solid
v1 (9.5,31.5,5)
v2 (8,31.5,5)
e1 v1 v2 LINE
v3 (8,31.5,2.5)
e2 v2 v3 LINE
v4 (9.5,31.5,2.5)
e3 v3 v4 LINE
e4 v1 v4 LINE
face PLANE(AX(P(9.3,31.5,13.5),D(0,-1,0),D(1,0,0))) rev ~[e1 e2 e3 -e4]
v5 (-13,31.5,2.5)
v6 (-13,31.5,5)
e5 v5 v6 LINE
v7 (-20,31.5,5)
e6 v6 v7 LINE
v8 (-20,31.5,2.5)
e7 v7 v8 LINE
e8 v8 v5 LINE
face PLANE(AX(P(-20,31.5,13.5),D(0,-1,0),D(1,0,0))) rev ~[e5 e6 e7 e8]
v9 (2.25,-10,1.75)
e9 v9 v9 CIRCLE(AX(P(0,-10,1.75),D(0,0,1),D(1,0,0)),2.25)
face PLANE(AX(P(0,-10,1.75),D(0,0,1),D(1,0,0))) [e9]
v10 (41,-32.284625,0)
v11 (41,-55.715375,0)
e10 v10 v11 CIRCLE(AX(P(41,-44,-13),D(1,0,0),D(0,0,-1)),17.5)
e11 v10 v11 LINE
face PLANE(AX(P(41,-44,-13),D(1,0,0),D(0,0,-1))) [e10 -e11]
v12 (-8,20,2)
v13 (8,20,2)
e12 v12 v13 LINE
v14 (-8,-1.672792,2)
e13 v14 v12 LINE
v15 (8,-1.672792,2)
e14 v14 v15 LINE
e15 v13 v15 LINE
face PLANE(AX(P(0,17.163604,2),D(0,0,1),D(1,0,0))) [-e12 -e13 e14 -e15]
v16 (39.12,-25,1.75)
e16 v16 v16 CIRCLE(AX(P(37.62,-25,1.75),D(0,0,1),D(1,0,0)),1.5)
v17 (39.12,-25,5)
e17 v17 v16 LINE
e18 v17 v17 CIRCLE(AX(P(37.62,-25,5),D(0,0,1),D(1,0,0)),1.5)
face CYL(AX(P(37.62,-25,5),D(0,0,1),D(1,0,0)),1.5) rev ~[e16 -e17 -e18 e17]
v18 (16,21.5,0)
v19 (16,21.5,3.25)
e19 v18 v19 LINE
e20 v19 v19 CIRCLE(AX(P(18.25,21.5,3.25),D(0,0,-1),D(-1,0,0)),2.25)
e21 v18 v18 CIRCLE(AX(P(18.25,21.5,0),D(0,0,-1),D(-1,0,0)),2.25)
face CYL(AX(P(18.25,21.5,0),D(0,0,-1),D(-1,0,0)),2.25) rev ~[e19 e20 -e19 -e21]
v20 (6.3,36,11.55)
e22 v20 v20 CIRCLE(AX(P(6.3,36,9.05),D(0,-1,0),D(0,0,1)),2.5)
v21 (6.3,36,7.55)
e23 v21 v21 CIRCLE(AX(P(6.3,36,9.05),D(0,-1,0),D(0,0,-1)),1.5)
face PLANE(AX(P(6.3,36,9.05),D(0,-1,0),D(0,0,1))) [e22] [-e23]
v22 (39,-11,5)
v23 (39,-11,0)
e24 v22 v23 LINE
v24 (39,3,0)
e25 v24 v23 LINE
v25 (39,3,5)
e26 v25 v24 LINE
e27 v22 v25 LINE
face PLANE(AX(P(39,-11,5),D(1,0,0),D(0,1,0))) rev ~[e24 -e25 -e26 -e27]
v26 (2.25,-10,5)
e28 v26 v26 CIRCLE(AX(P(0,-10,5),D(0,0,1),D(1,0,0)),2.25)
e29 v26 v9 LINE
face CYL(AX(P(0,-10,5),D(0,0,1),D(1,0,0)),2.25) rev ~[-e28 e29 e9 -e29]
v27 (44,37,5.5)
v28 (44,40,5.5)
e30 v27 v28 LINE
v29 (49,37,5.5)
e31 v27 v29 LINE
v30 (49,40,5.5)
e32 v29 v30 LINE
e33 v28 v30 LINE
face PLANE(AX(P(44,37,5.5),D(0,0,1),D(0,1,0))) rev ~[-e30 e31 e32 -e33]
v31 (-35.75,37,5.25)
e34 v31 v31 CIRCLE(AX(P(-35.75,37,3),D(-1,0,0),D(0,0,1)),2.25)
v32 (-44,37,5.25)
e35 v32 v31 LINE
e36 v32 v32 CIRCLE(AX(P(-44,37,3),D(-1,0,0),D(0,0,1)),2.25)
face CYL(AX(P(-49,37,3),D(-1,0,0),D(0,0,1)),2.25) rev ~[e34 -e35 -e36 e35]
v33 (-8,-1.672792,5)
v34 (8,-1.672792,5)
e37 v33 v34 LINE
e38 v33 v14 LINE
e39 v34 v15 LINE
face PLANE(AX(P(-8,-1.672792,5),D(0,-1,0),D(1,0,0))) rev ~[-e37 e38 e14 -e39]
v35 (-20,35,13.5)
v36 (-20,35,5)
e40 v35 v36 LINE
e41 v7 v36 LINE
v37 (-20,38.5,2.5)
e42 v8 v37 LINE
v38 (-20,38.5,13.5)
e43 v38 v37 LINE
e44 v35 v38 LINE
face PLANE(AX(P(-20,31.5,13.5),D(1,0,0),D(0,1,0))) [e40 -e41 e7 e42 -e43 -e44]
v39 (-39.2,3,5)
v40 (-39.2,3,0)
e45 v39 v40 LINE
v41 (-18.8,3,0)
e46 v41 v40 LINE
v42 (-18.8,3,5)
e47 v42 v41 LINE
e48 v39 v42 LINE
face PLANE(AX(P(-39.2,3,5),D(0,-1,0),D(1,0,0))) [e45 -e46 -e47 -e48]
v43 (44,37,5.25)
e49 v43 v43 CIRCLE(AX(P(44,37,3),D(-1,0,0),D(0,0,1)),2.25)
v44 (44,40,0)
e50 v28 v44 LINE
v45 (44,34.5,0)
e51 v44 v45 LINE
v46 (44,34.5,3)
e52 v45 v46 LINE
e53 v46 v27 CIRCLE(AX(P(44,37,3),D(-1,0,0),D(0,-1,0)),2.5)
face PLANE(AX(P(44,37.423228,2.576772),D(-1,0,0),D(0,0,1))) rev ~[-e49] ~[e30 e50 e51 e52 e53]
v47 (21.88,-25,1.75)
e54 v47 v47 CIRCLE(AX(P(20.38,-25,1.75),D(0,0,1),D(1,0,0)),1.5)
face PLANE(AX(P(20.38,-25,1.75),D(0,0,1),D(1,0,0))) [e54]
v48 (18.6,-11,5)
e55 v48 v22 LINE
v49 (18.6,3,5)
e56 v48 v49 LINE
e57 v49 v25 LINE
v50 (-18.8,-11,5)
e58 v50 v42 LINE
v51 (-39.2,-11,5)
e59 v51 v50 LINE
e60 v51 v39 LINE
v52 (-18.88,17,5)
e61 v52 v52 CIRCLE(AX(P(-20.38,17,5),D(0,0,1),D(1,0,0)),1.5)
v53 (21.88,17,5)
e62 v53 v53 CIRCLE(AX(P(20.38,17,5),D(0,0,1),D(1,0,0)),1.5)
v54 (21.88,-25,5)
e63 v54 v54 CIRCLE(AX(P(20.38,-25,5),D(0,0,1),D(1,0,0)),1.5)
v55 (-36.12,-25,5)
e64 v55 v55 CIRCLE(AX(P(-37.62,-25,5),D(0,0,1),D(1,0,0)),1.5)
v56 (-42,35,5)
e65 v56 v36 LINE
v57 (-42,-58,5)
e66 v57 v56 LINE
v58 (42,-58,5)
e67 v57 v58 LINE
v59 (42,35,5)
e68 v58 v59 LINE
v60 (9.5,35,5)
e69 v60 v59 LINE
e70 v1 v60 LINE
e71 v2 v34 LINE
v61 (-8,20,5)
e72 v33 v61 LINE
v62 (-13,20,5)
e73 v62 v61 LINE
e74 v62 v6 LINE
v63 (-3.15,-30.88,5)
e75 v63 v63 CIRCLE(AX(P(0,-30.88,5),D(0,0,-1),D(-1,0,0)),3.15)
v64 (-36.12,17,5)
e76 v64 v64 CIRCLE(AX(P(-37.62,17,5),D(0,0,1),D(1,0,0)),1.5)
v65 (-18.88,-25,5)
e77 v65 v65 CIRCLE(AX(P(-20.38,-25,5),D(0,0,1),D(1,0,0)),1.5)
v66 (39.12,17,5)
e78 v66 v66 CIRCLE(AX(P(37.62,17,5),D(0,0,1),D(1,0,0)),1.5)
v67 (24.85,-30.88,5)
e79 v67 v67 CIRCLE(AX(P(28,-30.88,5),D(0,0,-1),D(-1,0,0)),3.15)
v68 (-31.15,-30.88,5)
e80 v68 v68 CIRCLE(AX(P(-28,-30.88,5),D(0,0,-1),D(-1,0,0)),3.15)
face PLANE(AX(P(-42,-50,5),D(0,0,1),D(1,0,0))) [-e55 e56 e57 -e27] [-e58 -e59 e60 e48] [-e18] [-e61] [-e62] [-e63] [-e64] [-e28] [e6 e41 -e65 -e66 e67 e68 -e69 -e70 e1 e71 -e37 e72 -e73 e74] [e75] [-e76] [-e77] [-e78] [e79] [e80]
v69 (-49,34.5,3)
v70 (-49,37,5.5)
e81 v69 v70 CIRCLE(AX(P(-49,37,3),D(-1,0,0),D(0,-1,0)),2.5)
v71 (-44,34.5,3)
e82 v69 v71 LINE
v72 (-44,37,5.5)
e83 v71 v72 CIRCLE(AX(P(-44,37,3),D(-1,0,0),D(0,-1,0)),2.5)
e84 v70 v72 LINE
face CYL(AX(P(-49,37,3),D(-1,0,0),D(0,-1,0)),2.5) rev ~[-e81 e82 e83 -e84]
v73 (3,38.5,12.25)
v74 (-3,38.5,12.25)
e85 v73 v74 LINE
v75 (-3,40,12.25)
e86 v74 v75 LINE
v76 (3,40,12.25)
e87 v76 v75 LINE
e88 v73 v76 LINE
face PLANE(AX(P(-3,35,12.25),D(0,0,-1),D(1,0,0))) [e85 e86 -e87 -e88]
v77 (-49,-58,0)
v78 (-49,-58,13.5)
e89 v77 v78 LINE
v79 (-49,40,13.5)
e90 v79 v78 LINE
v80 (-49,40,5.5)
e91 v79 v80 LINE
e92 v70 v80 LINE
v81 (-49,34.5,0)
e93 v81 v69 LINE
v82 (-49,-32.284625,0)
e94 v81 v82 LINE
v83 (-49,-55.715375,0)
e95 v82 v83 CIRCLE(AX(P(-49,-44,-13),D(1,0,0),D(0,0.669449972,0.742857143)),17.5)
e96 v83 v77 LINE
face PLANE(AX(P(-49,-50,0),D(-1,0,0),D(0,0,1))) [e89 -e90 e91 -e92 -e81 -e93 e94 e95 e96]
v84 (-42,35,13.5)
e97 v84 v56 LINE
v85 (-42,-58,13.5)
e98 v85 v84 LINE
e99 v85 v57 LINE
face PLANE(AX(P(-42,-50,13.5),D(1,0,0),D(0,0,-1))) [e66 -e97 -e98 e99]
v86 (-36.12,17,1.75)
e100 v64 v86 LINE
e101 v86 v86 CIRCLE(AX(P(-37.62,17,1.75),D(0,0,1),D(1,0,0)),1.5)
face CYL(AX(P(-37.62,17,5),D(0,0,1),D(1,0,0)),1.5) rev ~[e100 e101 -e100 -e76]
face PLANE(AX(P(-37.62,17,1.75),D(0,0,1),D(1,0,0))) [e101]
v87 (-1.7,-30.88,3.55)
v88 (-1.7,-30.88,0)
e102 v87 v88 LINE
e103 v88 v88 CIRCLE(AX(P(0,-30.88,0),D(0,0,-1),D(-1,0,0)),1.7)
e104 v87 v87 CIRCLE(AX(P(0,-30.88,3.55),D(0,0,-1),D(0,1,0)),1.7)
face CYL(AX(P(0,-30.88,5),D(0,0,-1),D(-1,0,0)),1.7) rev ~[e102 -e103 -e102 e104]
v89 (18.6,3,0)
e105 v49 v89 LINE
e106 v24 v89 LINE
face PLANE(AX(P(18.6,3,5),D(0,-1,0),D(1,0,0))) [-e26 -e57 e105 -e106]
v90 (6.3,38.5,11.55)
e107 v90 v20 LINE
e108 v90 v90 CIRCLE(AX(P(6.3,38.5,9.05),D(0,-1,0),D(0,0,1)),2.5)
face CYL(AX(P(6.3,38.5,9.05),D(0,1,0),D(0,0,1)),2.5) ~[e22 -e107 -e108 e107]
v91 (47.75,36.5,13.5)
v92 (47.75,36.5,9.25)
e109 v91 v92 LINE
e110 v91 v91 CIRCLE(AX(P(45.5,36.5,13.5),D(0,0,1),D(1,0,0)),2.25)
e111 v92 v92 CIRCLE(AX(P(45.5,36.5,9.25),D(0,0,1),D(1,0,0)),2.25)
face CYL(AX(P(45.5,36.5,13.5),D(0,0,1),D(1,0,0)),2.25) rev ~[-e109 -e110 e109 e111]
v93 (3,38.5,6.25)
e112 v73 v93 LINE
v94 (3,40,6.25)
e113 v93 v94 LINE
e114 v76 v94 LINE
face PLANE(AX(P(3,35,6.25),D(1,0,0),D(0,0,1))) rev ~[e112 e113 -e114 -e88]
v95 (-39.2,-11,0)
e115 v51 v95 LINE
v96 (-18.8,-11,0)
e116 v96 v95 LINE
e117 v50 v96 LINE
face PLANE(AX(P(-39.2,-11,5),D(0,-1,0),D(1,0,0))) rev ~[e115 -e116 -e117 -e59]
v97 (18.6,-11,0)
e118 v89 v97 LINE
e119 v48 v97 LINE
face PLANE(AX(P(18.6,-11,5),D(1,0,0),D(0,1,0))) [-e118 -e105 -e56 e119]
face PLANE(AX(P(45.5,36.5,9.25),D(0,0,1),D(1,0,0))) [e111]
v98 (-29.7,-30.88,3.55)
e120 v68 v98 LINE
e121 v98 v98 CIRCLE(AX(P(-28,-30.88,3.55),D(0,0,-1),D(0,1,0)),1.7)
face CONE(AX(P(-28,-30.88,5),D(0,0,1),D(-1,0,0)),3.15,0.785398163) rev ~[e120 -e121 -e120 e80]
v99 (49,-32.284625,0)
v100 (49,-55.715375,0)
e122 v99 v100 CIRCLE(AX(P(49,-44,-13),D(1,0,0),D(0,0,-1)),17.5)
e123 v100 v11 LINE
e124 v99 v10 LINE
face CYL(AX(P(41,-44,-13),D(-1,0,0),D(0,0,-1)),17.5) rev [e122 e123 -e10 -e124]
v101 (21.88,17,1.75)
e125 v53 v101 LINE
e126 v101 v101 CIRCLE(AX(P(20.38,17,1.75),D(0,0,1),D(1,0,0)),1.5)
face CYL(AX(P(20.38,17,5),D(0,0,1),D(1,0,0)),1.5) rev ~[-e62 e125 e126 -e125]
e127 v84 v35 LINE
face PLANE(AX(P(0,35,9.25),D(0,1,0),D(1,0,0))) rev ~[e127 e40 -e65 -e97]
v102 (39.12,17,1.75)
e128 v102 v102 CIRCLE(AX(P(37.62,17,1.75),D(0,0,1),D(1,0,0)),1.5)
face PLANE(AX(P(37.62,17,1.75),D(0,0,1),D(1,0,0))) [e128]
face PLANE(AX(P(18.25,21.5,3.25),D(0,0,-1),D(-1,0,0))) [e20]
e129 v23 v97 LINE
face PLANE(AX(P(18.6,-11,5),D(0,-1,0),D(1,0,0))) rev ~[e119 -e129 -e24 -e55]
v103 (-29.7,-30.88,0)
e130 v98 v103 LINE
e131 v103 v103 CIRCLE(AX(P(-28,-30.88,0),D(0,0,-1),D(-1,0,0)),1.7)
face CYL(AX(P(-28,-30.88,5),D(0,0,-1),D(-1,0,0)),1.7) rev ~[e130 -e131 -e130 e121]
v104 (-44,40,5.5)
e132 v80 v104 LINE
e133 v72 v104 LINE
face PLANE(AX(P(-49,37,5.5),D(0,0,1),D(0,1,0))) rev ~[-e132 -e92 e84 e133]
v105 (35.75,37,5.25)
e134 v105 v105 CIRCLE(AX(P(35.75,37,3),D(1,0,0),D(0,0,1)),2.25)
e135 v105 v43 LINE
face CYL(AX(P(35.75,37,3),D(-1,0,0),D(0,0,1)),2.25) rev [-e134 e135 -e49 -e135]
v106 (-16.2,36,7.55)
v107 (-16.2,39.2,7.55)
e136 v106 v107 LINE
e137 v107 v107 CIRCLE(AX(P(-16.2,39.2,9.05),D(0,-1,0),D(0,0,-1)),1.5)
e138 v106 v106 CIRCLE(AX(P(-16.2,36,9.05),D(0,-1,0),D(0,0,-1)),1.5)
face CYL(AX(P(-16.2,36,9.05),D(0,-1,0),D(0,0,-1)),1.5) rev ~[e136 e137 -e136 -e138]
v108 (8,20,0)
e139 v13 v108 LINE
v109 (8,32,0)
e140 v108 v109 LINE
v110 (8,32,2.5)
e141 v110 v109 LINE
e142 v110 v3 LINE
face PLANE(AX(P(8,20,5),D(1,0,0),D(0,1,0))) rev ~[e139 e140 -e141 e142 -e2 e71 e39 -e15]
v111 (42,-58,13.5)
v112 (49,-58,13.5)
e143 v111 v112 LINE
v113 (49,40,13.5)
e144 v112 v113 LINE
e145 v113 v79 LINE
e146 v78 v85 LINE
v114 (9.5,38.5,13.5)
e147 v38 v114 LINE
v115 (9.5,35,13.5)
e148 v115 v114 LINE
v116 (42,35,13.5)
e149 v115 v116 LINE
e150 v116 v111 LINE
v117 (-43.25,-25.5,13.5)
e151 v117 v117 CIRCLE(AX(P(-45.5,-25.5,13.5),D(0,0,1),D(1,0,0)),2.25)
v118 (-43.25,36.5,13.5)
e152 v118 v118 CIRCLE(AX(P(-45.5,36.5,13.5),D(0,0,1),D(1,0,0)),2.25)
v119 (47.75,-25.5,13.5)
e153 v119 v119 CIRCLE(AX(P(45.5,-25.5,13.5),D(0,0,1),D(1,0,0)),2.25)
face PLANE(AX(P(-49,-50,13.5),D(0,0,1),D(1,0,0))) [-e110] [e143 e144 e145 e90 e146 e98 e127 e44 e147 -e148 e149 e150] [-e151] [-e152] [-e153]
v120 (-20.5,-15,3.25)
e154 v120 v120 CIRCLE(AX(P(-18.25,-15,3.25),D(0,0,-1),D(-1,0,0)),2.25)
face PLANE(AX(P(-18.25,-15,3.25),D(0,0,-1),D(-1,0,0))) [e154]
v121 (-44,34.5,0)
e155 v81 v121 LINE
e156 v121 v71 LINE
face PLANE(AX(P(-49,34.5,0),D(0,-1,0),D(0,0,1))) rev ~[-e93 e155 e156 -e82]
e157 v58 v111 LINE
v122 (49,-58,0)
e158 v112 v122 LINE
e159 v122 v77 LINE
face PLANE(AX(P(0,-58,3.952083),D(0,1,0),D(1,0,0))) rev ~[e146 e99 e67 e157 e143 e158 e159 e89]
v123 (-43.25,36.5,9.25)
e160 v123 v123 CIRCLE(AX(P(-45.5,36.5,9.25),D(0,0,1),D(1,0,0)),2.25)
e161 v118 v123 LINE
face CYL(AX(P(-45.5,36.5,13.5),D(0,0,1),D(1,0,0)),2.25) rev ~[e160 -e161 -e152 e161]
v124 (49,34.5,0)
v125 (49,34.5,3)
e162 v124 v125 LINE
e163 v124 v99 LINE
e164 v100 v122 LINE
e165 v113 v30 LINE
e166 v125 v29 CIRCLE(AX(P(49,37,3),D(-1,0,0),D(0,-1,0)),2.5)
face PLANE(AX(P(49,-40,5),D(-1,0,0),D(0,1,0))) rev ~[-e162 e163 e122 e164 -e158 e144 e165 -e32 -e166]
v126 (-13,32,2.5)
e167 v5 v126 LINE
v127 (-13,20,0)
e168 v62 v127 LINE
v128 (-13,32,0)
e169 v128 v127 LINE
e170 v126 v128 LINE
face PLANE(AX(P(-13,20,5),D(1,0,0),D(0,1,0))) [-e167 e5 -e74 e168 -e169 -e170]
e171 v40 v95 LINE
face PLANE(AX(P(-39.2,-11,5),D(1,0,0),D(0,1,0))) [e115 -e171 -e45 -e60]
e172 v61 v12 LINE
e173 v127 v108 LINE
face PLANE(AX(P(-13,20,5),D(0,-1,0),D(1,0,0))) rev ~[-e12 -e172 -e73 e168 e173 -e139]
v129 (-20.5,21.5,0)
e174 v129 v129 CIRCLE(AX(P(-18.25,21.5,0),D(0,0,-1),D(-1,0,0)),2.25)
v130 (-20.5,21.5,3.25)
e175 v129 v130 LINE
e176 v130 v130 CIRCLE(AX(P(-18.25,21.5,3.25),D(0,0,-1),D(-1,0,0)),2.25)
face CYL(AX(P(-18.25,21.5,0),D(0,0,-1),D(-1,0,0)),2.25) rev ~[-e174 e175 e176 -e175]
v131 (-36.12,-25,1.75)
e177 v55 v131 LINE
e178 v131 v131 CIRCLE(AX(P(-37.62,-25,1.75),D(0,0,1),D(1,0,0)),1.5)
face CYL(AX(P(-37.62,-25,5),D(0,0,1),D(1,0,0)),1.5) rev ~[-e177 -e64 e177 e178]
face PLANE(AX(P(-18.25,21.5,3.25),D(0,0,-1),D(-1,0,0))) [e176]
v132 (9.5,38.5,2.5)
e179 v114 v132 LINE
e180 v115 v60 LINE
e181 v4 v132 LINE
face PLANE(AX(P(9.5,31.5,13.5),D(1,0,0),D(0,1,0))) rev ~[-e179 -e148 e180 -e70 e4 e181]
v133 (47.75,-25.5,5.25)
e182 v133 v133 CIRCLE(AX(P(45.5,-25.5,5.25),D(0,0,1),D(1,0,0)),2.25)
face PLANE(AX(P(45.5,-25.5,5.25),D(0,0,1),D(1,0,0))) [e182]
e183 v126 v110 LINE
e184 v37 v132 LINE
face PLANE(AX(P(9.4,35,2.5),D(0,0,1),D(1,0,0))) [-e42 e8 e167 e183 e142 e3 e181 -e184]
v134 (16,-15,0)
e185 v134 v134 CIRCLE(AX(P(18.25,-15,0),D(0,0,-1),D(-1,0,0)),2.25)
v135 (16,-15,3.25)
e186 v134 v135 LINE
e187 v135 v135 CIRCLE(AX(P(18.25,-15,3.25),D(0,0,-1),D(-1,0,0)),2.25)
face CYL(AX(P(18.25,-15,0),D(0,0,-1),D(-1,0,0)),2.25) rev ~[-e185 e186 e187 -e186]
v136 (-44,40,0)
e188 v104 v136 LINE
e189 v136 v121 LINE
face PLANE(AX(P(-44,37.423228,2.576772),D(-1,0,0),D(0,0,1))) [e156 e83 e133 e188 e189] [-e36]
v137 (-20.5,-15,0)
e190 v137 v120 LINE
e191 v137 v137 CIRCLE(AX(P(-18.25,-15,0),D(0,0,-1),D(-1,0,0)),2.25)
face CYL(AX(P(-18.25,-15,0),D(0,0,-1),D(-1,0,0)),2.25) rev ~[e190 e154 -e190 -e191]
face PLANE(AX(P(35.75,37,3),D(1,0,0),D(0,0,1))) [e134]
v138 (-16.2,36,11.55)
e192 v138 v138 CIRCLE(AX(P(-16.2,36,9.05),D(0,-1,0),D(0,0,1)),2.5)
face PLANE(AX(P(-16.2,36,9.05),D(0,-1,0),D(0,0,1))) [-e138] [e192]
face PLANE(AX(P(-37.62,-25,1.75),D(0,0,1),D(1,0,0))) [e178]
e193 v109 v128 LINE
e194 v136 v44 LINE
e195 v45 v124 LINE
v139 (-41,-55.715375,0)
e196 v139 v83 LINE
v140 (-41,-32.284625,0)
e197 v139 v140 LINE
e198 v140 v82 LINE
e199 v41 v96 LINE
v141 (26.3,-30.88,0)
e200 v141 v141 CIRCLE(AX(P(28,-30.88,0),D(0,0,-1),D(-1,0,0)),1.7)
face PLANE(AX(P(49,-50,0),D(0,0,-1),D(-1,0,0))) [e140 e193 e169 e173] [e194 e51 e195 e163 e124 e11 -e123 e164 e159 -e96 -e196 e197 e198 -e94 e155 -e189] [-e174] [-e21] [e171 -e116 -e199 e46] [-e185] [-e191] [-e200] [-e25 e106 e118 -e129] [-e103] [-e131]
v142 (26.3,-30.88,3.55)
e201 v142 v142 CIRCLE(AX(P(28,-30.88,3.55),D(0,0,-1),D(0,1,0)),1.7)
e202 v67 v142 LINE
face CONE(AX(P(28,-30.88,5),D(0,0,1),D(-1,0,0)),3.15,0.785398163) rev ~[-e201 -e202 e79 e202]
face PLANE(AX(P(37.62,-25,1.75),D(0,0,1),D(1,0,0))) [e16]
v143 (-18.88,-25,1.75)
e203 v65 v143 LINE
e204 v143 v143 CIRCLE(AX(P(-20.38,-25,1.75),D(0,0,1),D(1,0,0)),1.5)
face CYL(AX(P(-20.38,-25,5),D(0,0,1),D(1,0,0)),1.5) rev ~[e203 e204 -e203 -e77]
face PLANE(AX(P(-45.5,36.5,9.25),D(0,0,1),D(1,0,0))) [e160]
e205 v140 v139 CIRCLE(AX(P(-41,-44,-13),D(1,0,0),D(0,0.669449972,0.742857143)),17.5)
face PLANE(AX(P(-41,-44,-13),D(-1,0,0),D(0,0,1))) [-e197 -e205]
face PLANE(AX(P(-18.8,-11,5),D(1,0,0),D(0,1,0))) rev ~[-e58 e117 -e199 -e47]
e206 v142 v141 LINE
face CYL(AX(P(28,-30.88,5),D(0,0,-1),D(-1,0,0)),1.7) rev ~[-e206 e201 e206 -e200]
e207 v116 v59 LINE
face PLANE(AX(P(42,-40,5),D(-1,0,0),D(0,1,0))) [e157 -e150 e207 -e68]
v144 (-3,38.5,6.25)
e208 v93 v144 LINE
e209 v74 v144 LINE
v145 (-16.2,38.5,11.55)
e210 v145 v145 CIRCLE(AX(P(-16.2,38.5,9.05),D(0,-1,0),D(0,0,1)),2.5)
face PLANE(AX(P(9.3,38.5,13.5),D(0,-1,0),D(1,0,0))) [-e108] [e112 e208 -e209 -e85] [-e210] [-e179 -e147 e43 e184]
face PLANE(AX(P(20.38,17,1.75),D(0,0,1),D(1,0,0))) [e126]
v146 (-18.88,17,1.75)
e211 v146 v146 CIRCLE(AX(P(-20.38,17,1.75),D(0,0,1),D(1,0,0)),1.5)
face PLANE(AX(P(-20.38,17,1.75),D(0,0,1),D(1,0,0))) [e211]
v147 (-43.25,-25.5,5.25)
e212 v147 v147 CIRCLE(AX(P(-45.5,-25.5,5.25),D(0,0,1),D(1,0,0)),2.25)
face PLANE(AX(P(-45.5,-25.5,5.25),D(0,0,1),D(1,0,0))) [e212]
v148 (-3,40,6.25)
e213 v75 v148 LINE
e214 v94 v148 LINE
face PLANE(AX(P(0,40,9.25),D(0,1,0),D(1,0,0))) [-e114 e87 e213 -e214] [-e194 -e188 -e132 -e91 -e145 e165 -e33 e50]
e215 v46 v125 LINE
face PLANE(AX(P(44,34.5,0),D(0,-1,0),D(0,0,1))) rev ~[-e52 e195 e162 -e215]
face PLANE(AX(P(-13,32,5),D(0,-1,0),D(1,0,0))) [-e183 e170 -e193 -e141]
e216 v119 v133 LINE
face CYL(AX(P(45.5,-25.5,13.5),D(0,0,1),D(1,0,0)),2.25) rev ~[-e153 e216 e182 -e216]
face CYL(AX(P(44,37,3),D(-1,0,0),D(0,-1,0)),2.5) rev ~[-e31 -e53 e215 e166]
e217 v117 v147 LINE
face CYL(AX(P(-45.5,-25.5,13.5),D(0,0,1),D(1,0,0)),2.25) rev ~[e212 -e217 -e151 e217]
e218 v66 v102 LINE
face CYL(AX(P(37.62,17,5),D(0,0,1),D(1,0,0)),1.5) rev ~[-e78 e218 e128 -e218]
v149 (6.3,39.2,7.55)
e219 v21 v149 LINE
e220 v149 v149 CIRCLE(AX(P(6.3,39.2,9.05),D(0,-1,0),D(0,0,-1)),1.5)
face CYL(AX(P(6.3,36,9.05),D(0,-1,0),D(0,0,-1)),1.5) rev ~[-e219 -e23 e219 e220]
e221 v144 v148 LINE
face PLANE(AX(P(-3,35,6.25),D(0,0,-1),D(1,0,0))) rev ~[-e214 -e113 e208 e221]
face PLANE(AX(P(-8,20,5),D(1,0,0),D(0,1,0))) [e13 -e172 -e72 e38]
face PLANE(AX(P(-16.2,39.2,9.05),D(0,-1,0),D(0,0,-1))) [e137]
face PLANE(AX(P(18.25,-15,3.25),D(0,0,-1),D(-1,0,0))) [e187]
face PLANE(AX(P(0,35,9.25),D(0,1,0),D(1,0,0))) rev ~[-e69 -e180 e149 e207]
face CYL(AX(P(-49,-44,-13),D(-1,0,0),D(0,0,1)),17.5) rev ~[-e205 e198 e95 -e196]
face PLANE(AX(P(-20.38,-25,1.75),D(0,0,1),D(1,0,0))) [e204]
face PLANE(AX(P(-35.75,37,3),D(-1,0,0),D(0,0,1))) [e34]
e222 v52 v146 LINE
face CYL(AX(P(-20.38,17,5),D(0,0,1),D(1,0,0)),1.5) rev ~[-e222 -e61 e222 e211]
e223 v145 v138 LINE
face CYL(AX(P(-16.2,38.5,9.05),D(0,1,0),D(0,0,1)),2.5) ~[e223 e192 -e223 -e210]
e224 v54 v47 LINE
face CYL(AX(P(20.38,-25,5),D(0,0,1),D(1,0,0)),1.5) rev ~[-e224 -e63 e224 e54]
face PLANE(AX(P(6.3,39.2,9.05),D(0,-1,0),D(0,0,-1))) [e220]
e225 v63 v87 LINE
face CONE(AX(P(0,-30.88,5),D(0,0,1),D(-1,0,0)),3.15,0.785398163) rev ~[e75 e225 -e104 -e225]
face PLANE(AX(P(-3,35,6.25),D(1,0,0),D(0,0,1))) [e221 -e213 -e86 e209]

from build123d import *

# Parameters (mm, degrees)
SKETCH1_W                                       = 98
SKETCH1_H                                       = 80
BOSS_EXTRUDE1_DEPTH                             = 5
SKETCH2_W                                       = 7
SKETCH2_H                                       = 80
BOSS_EXTRUDE2_DEPTH                             = 8.5
SKETCH3_W                                       = 7
SKETCH3_H                                       = 80
BOSS_EXTRUDE3_DEPTH                             = 8.5
SKETCH8_W                                       = 84
SKETCH8_H                                       = 8.5
BOSS_EXTRUDE5_DEPTH                             = 5
SKETCH13_R                                      = 2.25
CUT_EXTRUDE7_DEPTH                              = 3.25
SKETCH15_R                                      = 1.5
CUT_EXTRUDE9_DEPTH                              = 3.25
SKETCH14_W                                      = 16
SKETCH14_H                                      = 16
CUT_EXTRUDE13_DEPTH                             = 3
SKETCH18_W                                      = 16
SKETCH18_H                                      = 12
CUT_EXTRUDE14_DEPTH                             = 64.822018144
SKETCH19_W                                      = 16
SKETCH19_H                                      = 5.672791846
CUT_EXTRUDE15_DEPTH                             = 3
SKETCH20_R                                      = 2.25
CUT_EXTRUDE20_DEPTH                             = 3.25
BOSS_EXTRUDE7_DEPTH                             = 10
BOSS_EXTRUDE9_DEPTH                             = 8
CSK_FOR_M3_FLAT_HEAD_MACHINE_SCREW1_D           = 3.4
CSK_FOR_M3_FLAT_HEAD_MACHINE_SCREW1_CSINK_D     = 6.3
CSK_FOR_M3_FLAT_HEAD_MACHINE_SCREW1_CSINK_ANGLE = 90
SKETCH51_R                                      = 17.5
CUT_EXTRUDE23_DEPTH                             = 8
CUT_EXTRUDE24_START                             = -8
SKETCH52_R                                      = 17.5
CUT_EXTRUDE24_DEPTH                             = 8
SKETCH42_R                                      = 2.25
CUT_EXTRUDE25_DEPTH                             = 4.25
SKETCH53_R                                      = 2.25
CUT_EXTRUDE26_DEPTH                             = 8.25
SKETCH54_R                                      = 2.25
CUT_EXTRUDE27_DEPTH                             = 13.25
CUT_EXTRUDE28_DEPTH                             = 5
CUT_EXTRUDE29_START                             = -13.25
SKETCH56_R                                      = 2.25
CUT_EXTRUDE29_DEPTH                             = 13.25
CUT_EXTRUDE30_START                             = -5
CUT_EXTRUDE30_DEPTH                             = 5
SKETCH65_W                                      = 20.4
SKETCH65_H                                      = 14
CUT_EXTRUDE31_DEPTH                             = 77.401897882
SKETCH69_W                                      = 6
SKETCH69_H                                      = 6
CUT_EXTRUDE33_DEPTH                             = 13.5
SKETCH75_W                                      = 28.5
SKETCH75_H                                      = 7
CUT_EXTRUDE39_DEPTH                             = 11
SKETCH77_R                                      = 2.5
BOSS_EXTRUDE11_DEPTH                            = 2.5
SKETCH79_R                                      = 1.5
CUT_EXTRUDE41_DEPTH                             = 3.2
SKETCH80_W                                      = 5
SKETCH80_H                                      = 12
CUT_EXTRUDE42_DEPTH                             = 77.401897882
SKETCH82_W                                      = 0.8
SKETCH82_H                                      = 7
SKETCH82_W_2                                    = 0.2
CUT_EXTRUDE43_DEPTH                             = 11


with BuildPart() as part:
    # Sketch1 → Boss-Extrude1 (new body)
    with BuildSketch(Plane.XY):
        Rectangle(SKETCH1_W, SKETCH1_H)
    extrude(amount=BOSS_EXTRUDE1_DEPTH)

    # Sketch2 → Boss-Extrude2 (add)
    with BuildSketch(Plane.XY.offset(5)):
        with Locations((-45.5, 0)):
            Rectangle(SKETCH2_W, SKETCH2_H)
    extrude(amount=BOSS_EXTRUDE2_DEPTH)

    # Sketch3 → Boss-Extrude3 (add)
    with BuildSketch(Plane.XY.offset(5)):
        with Locations((45.5, 0)):
            Rectangle(SKETCH3_W, SKETCH3_H)
    extrude(amount=BOSS_EXTRUDE3_DEPTH)

    # Sketch8 → Boss-Extrude5 (add)
    with BuildSketch(Plane(origin=(0, 40, 0), x_dir=(1, 0, 0), z_dir=(0, 1, 0))):
        with Locations((0, -9.25)):
            Rectangle(SKETCH8_W, SKETCH8_H)
    extrude(amount=-BOSS_EXTRUDE5_DEPTH)

    # Sketch13 → Cut-Extrude7 (cut)
    with BuildSketch(Plane.XY.offset(5)):
        with Locations((0, -10)):
            Circle(SKETCH13_R)
    extrude(amount=-CUT_EXTRUDE7_DEPTH, mode=Mode.SUBTRACT)

    # Sketch15 → Cut-Extrude9 (cut)
    with BuildSketch(Plane.XY.offset(5)):
        with Locations((-37.62, 17)):
            Circle(SKETCH15_R)
        with Locations((-20.38, 17)):
            Circle(SKETCH15_R)
        with Locations((-37.62, -25)):
            Circle(SKETCH15_R)
        with Locations((-20.38, -25)):
            Circle(SKETCH15_R)
        with Locations((20.38, -25)):
            Circle(SKETCH15_R)
        with Locations((37.62, -25)):
            Circle(SKETCH15_R)
        with Locations((37.62, 17)):
            Circle(SKETCH15_R)
        with Locations((20.38, 17)):
            Circle(SKETCH15_R)
    extrude(amount=-CUT_EXTRUDE9_DEPTH, mode=Mode.SUBTRACT)

    # Sketch14 → Cut-Extrude13 (cut)
    with BuildSketch(Plane.XY.offset(5)):
        with Locations((0, 6.327208154)):
            Rectangle(SKETCH14_W, SKETCH14_H)
    extrude(amount=-CUT_EXTRUDE13_DEPTH, mode=Mode.SUBTRACT)

    # Sketch18 → Cut-Extrude14 (cut, through all)
    with BuildSketch(Plane.XY.offset(5)):
        with Locations((0, 26)):
            Rectangle(SKETCH18_W, SKETCH18_H)
    extrude(amount=-CUT_EXTRUDE14_DEPTH, mode=Mode.SUBTRACT)

    # Sketch19 → Cut-Extrude15 (cut)
    with BuildSketch(Plane.XY.offset(5)):
        with Locations((0, 17.163604077)):
            Rectangle(SKETCH19_W, SKETCH19_H)
    extrude(amount=-CUT_EXTRUDE15_DEPTH, mode=Mode.SUBTRACT)

    # Sketch20 → Cut-Extrude20 (cut)
    with BuildSketch(Plane(origin=(0, 0, 0), x_dir=(-1, 0, 0), z_dir=(0, 0, -1))):
        with Locations((18.25, 21.5)):
            Circle(SKETCH20_R)
        with Locations((-18.25, 21.5)):
            Circle(SKETCH20_R)
        with Locations((18.25, -15)):
            Circle(SKETCH20_R)
        with Locations((-18.25, -15)):
            Circle(SKETCH20_R)
    extrude(amount=-CUT_EXTRUDE20_DEPTH, mode=Mode.SUBTRACT)

    # Sketch26 → Boss-Extrude7 (add)
    with BuildSketch(Plane(origin=(0, -40, 0), x_dir=(-1, 0, 0), z_dir=(0, -1, 0))):
        Polygon((49, -13.5), (42, -13.5), (42, -5), (-42, -5), (-42, -13.5), (-49, -13.5), (-49, 0), (49, 0), align=None)
    extrude(amount=BOSS_EXTRUDE7_DEPTH)

    # Sketch47 → Boss-Extrude9 (add)
    with BuildSketch(Plane(origin=(0, -50, 0), x_dir=(-1, 0, 0), z_dir=(0, -1, 0))):
        Polygon((49, -13.5), (42, -13.5), (42, -5), (-42, -5), (-42, -13.5), (-49, -13.5), (-49, 0), (49, 0), align=None)
    extrude(amount=BOSS_EXTRUDE9_DEPTH)

    # CSK for M3 Flat Head Machine Screw1 (through all)
    with Locations(Plane.XY.offset(5)):
        with Locations((28, -30.88), (0, -30.88), (-28, -30.88)):
            CounterSinkHole(CSK_FOR_M3_FLAT_HEAD_MACHINE_SCREW1_D / 2, CSK_FOR_M3_FLAT_HEAD_MACHINE_SCREW1_CSINK_D / 2, counter_sink_angle=CSK_FOR_M3_FLAT_HEAD_MACHINE_SCREW1_CSINK_ANGLE)

    # Sketch51 → Cut-Extrude23 (cut)
    with BuildSketch(Plane.ZY.offset(49)):
        with Locations((-13, -44)):
            Circle(SKETCH51_R)
    extrude(amount=-CUT_EXTRUDE23_DEPTH, mode=Mode.SUBTRACT)

    # Sketch52 → Cut-Extrude24 (cut)
    with BuildSketch(Plane(origin=(49, 0, 0), x_dir=(0, 0, -1), z_dir=(1, 0, 0)).offset(CUT_EXTRUDE24_START)):
        with Locations((13, -44)):
            Circle(SKETCH52_R)
    extrude(amount=CUT_EXTRUDE24_DEPTH, mode=Mode.SUBTRACT)

    # Sketch42 → Cut-Extrude25 (cut)
    with BuildSketch(Plane.XY.offset(13.5)):
        with Locations((-45.5, 36.5)):
            Circle(SKETCH42_R)
        with Locations((45.5, 36.5)):
            Circle(SKETCH42_R)
    extrude(amount=-CUT_EXTRUDE25_DEPTH, mode=Mode.SUBTRACT)

    # Sketch53 → Cut-Extrude26 (cut)
    with BuildSketch(Plane.XY.offset(13.5)):
        with Locations((-45.5, -25.5)):
            Circle(SKETCH53_R)
        with Locations((45.5, -25.5)):
            Circle(SKETCH53_R)
    extrude(amount=-CUT_EXTRUDE26_DEPTH, mode=Mode.SUBTRACT)

    # Sketch54 → Cut-Extrude27 (cut)
    with BuildSketch(Plane.ZY.offset(49)):
        with Locations((3, 37)):
            Circle(SKETCH54_R)
    extrude(amount=-CUT_EXTRUDE27_DEPTH, mode=Mode.SUBTRACT)

    # Sketch55 → Cut-Extrude28 (cut)
    with BuildSketch(Plane.ZY.offset(49)):
        with BuildLine():
            Line((5.5, 37), (5.5, 40))
            Line((5.5, 40), (0, 40))
            Line((0, 40), (0, 34.5))
            Line((0, 34.5), (3, 34.5))
            ThreePointArc((3, 34.5), (4.767766953, 35.232233047), (5.5, 37))
        make_face()
    extrude(amount=-CUT_EXTRUDE28_DEPTH, mode=Mode.SUBTRACT)

    # Sketch56 → Cut-Extrude29 (cut)
    with BuildSketch(Plane(origin=(49, 0, 0), x_dir=(0, 0, -1), z_dir=(1, 0, 0)).offset(CUT_EXTRUDE29_START)):
        with Locations(Location((-3, 37, 0), (0, 0, 180))):
            Circle(SKETCH56_R)
    extrude(amount=CUT_EXTRUDE29_DEPTH, mode=Mode.SUBTRACT)

    # Sketch57 → Cut-Extrude30 (cut)
    with BuildSketch(Plane(origin=(49, 0, 0), x_dir=(0, 0, -1), z_dir=(1, 0, 0)).offset(CUT_EXTRUDE30_START)):
        with BuildLine():
            Line((-5.5, 37), (-5.5, 40))
            Line((-5.5, 40), (0, 40))
            Line((0, 40), (0, 34.5))
            Line((0, 34.5), (-3, 34.5))
            ThreePointArc((-3, 34.5), (-4.767766953, 35.232233047), (-5.5, 37))
        make_face()
    extrude(amount=CUT_EXTRUDE30_DEPTH, mode=Mode.SUBTRACT)

    # Sketch65 → Cut-Extrude31 (cut, through all)
    with BuildSketch(Plane.XY.offset(5)):
        with Locations((-29, -4)):
            Rectangle(SKETCH65_W, SKETCH65_H)
        with Locations((28.8, -4)):
            Rectangle(SKETCH65_W, SKETCH65_H)
    extrude(amount=-CUT_EXTRUDE31_DEPTH, mode=Mode.SUBTRACT)

    # Sketch69 → Cut-Extrude33 (cut)
    with BuildSketch(Plane.XZ.offset(-35)):
        with Locations((0, 9.25)):
            Rectangle(SKETCH69_W, SKETCH69_H)
    extrude(amount=-CUT_EXTRUDE33_DEPTH, mode=Mode.SUBTRACT)

    # Sketch75 → Cut-Extrude39 (cut)
    with BuildSketch(Plane.XY.offset(13.5)):
        with Locations((-4.95, 35)):
            Rectangle(SKETCH75_W, SKETCH75_H)
    extrude(amount=-CUT_EXTRUDE39_DEPTH, mode=Mode.SUBTRACT)

    # Sketch77 → Boss-Extrude11 (add)
    with BuildSketch(Plane.XZ.offset(-38.5)):
        with Locations(Location((6.3, 9.05, 0), (0, 0, 90))):
            Circle(SKETCH77_R)
        with Locations(Location((-16.2, 9.05, 0), (0, 0, 90))):
            Circle(SKETCH77_R)
    extrude(amount=BOSS_EXTRUDE11_DEPTH)

    # Sketch79 → Cut-Extrude41 (cut)
    with BuildSketch(Plane.XZ.offset(-36)):
        with Locations(Location((6.3, 9.05, 0), (0, 0, 270))):
            Circle(SKETCH79_R)
        with Locations(Location((-16.2, 9.05, 0), (0, 0, 270))):
            Circle(SKETCH79_R)
    extrude(amount=-CUT_EXTRUDE41_DEPTH, mode=Mode.SUBTRACT)

    # Sketch80 → Cut-Extrude42 (cut, through all)
    with BuildSketch(Plane.XY.offset(5)):
        with Locations((-10.5, 26)):
            Rectangle(SKETCH80_W, SKETCH80_H)
    extrude(amount=-CUT_EXTRUDE42_DEPTH, mode=Mode.SUBTRACT)

    # Sketch82 → Cut-Extrude43 (cut)
    with BuildSketch(Plane.XY.offset(13.5)):
        with Locations((-19.6, 35)):
            Rectangle(SKETCH82_W, SKETCH82_H)
        with Locations((9.4, 35)):
            Rectangle(SKETCH82_W_2, SKETCH82_H)
    extrude(amount=-CUT_EXTRUDE43_DEPTH, mode=Mode.SUBTRACT)


solid = part.part
